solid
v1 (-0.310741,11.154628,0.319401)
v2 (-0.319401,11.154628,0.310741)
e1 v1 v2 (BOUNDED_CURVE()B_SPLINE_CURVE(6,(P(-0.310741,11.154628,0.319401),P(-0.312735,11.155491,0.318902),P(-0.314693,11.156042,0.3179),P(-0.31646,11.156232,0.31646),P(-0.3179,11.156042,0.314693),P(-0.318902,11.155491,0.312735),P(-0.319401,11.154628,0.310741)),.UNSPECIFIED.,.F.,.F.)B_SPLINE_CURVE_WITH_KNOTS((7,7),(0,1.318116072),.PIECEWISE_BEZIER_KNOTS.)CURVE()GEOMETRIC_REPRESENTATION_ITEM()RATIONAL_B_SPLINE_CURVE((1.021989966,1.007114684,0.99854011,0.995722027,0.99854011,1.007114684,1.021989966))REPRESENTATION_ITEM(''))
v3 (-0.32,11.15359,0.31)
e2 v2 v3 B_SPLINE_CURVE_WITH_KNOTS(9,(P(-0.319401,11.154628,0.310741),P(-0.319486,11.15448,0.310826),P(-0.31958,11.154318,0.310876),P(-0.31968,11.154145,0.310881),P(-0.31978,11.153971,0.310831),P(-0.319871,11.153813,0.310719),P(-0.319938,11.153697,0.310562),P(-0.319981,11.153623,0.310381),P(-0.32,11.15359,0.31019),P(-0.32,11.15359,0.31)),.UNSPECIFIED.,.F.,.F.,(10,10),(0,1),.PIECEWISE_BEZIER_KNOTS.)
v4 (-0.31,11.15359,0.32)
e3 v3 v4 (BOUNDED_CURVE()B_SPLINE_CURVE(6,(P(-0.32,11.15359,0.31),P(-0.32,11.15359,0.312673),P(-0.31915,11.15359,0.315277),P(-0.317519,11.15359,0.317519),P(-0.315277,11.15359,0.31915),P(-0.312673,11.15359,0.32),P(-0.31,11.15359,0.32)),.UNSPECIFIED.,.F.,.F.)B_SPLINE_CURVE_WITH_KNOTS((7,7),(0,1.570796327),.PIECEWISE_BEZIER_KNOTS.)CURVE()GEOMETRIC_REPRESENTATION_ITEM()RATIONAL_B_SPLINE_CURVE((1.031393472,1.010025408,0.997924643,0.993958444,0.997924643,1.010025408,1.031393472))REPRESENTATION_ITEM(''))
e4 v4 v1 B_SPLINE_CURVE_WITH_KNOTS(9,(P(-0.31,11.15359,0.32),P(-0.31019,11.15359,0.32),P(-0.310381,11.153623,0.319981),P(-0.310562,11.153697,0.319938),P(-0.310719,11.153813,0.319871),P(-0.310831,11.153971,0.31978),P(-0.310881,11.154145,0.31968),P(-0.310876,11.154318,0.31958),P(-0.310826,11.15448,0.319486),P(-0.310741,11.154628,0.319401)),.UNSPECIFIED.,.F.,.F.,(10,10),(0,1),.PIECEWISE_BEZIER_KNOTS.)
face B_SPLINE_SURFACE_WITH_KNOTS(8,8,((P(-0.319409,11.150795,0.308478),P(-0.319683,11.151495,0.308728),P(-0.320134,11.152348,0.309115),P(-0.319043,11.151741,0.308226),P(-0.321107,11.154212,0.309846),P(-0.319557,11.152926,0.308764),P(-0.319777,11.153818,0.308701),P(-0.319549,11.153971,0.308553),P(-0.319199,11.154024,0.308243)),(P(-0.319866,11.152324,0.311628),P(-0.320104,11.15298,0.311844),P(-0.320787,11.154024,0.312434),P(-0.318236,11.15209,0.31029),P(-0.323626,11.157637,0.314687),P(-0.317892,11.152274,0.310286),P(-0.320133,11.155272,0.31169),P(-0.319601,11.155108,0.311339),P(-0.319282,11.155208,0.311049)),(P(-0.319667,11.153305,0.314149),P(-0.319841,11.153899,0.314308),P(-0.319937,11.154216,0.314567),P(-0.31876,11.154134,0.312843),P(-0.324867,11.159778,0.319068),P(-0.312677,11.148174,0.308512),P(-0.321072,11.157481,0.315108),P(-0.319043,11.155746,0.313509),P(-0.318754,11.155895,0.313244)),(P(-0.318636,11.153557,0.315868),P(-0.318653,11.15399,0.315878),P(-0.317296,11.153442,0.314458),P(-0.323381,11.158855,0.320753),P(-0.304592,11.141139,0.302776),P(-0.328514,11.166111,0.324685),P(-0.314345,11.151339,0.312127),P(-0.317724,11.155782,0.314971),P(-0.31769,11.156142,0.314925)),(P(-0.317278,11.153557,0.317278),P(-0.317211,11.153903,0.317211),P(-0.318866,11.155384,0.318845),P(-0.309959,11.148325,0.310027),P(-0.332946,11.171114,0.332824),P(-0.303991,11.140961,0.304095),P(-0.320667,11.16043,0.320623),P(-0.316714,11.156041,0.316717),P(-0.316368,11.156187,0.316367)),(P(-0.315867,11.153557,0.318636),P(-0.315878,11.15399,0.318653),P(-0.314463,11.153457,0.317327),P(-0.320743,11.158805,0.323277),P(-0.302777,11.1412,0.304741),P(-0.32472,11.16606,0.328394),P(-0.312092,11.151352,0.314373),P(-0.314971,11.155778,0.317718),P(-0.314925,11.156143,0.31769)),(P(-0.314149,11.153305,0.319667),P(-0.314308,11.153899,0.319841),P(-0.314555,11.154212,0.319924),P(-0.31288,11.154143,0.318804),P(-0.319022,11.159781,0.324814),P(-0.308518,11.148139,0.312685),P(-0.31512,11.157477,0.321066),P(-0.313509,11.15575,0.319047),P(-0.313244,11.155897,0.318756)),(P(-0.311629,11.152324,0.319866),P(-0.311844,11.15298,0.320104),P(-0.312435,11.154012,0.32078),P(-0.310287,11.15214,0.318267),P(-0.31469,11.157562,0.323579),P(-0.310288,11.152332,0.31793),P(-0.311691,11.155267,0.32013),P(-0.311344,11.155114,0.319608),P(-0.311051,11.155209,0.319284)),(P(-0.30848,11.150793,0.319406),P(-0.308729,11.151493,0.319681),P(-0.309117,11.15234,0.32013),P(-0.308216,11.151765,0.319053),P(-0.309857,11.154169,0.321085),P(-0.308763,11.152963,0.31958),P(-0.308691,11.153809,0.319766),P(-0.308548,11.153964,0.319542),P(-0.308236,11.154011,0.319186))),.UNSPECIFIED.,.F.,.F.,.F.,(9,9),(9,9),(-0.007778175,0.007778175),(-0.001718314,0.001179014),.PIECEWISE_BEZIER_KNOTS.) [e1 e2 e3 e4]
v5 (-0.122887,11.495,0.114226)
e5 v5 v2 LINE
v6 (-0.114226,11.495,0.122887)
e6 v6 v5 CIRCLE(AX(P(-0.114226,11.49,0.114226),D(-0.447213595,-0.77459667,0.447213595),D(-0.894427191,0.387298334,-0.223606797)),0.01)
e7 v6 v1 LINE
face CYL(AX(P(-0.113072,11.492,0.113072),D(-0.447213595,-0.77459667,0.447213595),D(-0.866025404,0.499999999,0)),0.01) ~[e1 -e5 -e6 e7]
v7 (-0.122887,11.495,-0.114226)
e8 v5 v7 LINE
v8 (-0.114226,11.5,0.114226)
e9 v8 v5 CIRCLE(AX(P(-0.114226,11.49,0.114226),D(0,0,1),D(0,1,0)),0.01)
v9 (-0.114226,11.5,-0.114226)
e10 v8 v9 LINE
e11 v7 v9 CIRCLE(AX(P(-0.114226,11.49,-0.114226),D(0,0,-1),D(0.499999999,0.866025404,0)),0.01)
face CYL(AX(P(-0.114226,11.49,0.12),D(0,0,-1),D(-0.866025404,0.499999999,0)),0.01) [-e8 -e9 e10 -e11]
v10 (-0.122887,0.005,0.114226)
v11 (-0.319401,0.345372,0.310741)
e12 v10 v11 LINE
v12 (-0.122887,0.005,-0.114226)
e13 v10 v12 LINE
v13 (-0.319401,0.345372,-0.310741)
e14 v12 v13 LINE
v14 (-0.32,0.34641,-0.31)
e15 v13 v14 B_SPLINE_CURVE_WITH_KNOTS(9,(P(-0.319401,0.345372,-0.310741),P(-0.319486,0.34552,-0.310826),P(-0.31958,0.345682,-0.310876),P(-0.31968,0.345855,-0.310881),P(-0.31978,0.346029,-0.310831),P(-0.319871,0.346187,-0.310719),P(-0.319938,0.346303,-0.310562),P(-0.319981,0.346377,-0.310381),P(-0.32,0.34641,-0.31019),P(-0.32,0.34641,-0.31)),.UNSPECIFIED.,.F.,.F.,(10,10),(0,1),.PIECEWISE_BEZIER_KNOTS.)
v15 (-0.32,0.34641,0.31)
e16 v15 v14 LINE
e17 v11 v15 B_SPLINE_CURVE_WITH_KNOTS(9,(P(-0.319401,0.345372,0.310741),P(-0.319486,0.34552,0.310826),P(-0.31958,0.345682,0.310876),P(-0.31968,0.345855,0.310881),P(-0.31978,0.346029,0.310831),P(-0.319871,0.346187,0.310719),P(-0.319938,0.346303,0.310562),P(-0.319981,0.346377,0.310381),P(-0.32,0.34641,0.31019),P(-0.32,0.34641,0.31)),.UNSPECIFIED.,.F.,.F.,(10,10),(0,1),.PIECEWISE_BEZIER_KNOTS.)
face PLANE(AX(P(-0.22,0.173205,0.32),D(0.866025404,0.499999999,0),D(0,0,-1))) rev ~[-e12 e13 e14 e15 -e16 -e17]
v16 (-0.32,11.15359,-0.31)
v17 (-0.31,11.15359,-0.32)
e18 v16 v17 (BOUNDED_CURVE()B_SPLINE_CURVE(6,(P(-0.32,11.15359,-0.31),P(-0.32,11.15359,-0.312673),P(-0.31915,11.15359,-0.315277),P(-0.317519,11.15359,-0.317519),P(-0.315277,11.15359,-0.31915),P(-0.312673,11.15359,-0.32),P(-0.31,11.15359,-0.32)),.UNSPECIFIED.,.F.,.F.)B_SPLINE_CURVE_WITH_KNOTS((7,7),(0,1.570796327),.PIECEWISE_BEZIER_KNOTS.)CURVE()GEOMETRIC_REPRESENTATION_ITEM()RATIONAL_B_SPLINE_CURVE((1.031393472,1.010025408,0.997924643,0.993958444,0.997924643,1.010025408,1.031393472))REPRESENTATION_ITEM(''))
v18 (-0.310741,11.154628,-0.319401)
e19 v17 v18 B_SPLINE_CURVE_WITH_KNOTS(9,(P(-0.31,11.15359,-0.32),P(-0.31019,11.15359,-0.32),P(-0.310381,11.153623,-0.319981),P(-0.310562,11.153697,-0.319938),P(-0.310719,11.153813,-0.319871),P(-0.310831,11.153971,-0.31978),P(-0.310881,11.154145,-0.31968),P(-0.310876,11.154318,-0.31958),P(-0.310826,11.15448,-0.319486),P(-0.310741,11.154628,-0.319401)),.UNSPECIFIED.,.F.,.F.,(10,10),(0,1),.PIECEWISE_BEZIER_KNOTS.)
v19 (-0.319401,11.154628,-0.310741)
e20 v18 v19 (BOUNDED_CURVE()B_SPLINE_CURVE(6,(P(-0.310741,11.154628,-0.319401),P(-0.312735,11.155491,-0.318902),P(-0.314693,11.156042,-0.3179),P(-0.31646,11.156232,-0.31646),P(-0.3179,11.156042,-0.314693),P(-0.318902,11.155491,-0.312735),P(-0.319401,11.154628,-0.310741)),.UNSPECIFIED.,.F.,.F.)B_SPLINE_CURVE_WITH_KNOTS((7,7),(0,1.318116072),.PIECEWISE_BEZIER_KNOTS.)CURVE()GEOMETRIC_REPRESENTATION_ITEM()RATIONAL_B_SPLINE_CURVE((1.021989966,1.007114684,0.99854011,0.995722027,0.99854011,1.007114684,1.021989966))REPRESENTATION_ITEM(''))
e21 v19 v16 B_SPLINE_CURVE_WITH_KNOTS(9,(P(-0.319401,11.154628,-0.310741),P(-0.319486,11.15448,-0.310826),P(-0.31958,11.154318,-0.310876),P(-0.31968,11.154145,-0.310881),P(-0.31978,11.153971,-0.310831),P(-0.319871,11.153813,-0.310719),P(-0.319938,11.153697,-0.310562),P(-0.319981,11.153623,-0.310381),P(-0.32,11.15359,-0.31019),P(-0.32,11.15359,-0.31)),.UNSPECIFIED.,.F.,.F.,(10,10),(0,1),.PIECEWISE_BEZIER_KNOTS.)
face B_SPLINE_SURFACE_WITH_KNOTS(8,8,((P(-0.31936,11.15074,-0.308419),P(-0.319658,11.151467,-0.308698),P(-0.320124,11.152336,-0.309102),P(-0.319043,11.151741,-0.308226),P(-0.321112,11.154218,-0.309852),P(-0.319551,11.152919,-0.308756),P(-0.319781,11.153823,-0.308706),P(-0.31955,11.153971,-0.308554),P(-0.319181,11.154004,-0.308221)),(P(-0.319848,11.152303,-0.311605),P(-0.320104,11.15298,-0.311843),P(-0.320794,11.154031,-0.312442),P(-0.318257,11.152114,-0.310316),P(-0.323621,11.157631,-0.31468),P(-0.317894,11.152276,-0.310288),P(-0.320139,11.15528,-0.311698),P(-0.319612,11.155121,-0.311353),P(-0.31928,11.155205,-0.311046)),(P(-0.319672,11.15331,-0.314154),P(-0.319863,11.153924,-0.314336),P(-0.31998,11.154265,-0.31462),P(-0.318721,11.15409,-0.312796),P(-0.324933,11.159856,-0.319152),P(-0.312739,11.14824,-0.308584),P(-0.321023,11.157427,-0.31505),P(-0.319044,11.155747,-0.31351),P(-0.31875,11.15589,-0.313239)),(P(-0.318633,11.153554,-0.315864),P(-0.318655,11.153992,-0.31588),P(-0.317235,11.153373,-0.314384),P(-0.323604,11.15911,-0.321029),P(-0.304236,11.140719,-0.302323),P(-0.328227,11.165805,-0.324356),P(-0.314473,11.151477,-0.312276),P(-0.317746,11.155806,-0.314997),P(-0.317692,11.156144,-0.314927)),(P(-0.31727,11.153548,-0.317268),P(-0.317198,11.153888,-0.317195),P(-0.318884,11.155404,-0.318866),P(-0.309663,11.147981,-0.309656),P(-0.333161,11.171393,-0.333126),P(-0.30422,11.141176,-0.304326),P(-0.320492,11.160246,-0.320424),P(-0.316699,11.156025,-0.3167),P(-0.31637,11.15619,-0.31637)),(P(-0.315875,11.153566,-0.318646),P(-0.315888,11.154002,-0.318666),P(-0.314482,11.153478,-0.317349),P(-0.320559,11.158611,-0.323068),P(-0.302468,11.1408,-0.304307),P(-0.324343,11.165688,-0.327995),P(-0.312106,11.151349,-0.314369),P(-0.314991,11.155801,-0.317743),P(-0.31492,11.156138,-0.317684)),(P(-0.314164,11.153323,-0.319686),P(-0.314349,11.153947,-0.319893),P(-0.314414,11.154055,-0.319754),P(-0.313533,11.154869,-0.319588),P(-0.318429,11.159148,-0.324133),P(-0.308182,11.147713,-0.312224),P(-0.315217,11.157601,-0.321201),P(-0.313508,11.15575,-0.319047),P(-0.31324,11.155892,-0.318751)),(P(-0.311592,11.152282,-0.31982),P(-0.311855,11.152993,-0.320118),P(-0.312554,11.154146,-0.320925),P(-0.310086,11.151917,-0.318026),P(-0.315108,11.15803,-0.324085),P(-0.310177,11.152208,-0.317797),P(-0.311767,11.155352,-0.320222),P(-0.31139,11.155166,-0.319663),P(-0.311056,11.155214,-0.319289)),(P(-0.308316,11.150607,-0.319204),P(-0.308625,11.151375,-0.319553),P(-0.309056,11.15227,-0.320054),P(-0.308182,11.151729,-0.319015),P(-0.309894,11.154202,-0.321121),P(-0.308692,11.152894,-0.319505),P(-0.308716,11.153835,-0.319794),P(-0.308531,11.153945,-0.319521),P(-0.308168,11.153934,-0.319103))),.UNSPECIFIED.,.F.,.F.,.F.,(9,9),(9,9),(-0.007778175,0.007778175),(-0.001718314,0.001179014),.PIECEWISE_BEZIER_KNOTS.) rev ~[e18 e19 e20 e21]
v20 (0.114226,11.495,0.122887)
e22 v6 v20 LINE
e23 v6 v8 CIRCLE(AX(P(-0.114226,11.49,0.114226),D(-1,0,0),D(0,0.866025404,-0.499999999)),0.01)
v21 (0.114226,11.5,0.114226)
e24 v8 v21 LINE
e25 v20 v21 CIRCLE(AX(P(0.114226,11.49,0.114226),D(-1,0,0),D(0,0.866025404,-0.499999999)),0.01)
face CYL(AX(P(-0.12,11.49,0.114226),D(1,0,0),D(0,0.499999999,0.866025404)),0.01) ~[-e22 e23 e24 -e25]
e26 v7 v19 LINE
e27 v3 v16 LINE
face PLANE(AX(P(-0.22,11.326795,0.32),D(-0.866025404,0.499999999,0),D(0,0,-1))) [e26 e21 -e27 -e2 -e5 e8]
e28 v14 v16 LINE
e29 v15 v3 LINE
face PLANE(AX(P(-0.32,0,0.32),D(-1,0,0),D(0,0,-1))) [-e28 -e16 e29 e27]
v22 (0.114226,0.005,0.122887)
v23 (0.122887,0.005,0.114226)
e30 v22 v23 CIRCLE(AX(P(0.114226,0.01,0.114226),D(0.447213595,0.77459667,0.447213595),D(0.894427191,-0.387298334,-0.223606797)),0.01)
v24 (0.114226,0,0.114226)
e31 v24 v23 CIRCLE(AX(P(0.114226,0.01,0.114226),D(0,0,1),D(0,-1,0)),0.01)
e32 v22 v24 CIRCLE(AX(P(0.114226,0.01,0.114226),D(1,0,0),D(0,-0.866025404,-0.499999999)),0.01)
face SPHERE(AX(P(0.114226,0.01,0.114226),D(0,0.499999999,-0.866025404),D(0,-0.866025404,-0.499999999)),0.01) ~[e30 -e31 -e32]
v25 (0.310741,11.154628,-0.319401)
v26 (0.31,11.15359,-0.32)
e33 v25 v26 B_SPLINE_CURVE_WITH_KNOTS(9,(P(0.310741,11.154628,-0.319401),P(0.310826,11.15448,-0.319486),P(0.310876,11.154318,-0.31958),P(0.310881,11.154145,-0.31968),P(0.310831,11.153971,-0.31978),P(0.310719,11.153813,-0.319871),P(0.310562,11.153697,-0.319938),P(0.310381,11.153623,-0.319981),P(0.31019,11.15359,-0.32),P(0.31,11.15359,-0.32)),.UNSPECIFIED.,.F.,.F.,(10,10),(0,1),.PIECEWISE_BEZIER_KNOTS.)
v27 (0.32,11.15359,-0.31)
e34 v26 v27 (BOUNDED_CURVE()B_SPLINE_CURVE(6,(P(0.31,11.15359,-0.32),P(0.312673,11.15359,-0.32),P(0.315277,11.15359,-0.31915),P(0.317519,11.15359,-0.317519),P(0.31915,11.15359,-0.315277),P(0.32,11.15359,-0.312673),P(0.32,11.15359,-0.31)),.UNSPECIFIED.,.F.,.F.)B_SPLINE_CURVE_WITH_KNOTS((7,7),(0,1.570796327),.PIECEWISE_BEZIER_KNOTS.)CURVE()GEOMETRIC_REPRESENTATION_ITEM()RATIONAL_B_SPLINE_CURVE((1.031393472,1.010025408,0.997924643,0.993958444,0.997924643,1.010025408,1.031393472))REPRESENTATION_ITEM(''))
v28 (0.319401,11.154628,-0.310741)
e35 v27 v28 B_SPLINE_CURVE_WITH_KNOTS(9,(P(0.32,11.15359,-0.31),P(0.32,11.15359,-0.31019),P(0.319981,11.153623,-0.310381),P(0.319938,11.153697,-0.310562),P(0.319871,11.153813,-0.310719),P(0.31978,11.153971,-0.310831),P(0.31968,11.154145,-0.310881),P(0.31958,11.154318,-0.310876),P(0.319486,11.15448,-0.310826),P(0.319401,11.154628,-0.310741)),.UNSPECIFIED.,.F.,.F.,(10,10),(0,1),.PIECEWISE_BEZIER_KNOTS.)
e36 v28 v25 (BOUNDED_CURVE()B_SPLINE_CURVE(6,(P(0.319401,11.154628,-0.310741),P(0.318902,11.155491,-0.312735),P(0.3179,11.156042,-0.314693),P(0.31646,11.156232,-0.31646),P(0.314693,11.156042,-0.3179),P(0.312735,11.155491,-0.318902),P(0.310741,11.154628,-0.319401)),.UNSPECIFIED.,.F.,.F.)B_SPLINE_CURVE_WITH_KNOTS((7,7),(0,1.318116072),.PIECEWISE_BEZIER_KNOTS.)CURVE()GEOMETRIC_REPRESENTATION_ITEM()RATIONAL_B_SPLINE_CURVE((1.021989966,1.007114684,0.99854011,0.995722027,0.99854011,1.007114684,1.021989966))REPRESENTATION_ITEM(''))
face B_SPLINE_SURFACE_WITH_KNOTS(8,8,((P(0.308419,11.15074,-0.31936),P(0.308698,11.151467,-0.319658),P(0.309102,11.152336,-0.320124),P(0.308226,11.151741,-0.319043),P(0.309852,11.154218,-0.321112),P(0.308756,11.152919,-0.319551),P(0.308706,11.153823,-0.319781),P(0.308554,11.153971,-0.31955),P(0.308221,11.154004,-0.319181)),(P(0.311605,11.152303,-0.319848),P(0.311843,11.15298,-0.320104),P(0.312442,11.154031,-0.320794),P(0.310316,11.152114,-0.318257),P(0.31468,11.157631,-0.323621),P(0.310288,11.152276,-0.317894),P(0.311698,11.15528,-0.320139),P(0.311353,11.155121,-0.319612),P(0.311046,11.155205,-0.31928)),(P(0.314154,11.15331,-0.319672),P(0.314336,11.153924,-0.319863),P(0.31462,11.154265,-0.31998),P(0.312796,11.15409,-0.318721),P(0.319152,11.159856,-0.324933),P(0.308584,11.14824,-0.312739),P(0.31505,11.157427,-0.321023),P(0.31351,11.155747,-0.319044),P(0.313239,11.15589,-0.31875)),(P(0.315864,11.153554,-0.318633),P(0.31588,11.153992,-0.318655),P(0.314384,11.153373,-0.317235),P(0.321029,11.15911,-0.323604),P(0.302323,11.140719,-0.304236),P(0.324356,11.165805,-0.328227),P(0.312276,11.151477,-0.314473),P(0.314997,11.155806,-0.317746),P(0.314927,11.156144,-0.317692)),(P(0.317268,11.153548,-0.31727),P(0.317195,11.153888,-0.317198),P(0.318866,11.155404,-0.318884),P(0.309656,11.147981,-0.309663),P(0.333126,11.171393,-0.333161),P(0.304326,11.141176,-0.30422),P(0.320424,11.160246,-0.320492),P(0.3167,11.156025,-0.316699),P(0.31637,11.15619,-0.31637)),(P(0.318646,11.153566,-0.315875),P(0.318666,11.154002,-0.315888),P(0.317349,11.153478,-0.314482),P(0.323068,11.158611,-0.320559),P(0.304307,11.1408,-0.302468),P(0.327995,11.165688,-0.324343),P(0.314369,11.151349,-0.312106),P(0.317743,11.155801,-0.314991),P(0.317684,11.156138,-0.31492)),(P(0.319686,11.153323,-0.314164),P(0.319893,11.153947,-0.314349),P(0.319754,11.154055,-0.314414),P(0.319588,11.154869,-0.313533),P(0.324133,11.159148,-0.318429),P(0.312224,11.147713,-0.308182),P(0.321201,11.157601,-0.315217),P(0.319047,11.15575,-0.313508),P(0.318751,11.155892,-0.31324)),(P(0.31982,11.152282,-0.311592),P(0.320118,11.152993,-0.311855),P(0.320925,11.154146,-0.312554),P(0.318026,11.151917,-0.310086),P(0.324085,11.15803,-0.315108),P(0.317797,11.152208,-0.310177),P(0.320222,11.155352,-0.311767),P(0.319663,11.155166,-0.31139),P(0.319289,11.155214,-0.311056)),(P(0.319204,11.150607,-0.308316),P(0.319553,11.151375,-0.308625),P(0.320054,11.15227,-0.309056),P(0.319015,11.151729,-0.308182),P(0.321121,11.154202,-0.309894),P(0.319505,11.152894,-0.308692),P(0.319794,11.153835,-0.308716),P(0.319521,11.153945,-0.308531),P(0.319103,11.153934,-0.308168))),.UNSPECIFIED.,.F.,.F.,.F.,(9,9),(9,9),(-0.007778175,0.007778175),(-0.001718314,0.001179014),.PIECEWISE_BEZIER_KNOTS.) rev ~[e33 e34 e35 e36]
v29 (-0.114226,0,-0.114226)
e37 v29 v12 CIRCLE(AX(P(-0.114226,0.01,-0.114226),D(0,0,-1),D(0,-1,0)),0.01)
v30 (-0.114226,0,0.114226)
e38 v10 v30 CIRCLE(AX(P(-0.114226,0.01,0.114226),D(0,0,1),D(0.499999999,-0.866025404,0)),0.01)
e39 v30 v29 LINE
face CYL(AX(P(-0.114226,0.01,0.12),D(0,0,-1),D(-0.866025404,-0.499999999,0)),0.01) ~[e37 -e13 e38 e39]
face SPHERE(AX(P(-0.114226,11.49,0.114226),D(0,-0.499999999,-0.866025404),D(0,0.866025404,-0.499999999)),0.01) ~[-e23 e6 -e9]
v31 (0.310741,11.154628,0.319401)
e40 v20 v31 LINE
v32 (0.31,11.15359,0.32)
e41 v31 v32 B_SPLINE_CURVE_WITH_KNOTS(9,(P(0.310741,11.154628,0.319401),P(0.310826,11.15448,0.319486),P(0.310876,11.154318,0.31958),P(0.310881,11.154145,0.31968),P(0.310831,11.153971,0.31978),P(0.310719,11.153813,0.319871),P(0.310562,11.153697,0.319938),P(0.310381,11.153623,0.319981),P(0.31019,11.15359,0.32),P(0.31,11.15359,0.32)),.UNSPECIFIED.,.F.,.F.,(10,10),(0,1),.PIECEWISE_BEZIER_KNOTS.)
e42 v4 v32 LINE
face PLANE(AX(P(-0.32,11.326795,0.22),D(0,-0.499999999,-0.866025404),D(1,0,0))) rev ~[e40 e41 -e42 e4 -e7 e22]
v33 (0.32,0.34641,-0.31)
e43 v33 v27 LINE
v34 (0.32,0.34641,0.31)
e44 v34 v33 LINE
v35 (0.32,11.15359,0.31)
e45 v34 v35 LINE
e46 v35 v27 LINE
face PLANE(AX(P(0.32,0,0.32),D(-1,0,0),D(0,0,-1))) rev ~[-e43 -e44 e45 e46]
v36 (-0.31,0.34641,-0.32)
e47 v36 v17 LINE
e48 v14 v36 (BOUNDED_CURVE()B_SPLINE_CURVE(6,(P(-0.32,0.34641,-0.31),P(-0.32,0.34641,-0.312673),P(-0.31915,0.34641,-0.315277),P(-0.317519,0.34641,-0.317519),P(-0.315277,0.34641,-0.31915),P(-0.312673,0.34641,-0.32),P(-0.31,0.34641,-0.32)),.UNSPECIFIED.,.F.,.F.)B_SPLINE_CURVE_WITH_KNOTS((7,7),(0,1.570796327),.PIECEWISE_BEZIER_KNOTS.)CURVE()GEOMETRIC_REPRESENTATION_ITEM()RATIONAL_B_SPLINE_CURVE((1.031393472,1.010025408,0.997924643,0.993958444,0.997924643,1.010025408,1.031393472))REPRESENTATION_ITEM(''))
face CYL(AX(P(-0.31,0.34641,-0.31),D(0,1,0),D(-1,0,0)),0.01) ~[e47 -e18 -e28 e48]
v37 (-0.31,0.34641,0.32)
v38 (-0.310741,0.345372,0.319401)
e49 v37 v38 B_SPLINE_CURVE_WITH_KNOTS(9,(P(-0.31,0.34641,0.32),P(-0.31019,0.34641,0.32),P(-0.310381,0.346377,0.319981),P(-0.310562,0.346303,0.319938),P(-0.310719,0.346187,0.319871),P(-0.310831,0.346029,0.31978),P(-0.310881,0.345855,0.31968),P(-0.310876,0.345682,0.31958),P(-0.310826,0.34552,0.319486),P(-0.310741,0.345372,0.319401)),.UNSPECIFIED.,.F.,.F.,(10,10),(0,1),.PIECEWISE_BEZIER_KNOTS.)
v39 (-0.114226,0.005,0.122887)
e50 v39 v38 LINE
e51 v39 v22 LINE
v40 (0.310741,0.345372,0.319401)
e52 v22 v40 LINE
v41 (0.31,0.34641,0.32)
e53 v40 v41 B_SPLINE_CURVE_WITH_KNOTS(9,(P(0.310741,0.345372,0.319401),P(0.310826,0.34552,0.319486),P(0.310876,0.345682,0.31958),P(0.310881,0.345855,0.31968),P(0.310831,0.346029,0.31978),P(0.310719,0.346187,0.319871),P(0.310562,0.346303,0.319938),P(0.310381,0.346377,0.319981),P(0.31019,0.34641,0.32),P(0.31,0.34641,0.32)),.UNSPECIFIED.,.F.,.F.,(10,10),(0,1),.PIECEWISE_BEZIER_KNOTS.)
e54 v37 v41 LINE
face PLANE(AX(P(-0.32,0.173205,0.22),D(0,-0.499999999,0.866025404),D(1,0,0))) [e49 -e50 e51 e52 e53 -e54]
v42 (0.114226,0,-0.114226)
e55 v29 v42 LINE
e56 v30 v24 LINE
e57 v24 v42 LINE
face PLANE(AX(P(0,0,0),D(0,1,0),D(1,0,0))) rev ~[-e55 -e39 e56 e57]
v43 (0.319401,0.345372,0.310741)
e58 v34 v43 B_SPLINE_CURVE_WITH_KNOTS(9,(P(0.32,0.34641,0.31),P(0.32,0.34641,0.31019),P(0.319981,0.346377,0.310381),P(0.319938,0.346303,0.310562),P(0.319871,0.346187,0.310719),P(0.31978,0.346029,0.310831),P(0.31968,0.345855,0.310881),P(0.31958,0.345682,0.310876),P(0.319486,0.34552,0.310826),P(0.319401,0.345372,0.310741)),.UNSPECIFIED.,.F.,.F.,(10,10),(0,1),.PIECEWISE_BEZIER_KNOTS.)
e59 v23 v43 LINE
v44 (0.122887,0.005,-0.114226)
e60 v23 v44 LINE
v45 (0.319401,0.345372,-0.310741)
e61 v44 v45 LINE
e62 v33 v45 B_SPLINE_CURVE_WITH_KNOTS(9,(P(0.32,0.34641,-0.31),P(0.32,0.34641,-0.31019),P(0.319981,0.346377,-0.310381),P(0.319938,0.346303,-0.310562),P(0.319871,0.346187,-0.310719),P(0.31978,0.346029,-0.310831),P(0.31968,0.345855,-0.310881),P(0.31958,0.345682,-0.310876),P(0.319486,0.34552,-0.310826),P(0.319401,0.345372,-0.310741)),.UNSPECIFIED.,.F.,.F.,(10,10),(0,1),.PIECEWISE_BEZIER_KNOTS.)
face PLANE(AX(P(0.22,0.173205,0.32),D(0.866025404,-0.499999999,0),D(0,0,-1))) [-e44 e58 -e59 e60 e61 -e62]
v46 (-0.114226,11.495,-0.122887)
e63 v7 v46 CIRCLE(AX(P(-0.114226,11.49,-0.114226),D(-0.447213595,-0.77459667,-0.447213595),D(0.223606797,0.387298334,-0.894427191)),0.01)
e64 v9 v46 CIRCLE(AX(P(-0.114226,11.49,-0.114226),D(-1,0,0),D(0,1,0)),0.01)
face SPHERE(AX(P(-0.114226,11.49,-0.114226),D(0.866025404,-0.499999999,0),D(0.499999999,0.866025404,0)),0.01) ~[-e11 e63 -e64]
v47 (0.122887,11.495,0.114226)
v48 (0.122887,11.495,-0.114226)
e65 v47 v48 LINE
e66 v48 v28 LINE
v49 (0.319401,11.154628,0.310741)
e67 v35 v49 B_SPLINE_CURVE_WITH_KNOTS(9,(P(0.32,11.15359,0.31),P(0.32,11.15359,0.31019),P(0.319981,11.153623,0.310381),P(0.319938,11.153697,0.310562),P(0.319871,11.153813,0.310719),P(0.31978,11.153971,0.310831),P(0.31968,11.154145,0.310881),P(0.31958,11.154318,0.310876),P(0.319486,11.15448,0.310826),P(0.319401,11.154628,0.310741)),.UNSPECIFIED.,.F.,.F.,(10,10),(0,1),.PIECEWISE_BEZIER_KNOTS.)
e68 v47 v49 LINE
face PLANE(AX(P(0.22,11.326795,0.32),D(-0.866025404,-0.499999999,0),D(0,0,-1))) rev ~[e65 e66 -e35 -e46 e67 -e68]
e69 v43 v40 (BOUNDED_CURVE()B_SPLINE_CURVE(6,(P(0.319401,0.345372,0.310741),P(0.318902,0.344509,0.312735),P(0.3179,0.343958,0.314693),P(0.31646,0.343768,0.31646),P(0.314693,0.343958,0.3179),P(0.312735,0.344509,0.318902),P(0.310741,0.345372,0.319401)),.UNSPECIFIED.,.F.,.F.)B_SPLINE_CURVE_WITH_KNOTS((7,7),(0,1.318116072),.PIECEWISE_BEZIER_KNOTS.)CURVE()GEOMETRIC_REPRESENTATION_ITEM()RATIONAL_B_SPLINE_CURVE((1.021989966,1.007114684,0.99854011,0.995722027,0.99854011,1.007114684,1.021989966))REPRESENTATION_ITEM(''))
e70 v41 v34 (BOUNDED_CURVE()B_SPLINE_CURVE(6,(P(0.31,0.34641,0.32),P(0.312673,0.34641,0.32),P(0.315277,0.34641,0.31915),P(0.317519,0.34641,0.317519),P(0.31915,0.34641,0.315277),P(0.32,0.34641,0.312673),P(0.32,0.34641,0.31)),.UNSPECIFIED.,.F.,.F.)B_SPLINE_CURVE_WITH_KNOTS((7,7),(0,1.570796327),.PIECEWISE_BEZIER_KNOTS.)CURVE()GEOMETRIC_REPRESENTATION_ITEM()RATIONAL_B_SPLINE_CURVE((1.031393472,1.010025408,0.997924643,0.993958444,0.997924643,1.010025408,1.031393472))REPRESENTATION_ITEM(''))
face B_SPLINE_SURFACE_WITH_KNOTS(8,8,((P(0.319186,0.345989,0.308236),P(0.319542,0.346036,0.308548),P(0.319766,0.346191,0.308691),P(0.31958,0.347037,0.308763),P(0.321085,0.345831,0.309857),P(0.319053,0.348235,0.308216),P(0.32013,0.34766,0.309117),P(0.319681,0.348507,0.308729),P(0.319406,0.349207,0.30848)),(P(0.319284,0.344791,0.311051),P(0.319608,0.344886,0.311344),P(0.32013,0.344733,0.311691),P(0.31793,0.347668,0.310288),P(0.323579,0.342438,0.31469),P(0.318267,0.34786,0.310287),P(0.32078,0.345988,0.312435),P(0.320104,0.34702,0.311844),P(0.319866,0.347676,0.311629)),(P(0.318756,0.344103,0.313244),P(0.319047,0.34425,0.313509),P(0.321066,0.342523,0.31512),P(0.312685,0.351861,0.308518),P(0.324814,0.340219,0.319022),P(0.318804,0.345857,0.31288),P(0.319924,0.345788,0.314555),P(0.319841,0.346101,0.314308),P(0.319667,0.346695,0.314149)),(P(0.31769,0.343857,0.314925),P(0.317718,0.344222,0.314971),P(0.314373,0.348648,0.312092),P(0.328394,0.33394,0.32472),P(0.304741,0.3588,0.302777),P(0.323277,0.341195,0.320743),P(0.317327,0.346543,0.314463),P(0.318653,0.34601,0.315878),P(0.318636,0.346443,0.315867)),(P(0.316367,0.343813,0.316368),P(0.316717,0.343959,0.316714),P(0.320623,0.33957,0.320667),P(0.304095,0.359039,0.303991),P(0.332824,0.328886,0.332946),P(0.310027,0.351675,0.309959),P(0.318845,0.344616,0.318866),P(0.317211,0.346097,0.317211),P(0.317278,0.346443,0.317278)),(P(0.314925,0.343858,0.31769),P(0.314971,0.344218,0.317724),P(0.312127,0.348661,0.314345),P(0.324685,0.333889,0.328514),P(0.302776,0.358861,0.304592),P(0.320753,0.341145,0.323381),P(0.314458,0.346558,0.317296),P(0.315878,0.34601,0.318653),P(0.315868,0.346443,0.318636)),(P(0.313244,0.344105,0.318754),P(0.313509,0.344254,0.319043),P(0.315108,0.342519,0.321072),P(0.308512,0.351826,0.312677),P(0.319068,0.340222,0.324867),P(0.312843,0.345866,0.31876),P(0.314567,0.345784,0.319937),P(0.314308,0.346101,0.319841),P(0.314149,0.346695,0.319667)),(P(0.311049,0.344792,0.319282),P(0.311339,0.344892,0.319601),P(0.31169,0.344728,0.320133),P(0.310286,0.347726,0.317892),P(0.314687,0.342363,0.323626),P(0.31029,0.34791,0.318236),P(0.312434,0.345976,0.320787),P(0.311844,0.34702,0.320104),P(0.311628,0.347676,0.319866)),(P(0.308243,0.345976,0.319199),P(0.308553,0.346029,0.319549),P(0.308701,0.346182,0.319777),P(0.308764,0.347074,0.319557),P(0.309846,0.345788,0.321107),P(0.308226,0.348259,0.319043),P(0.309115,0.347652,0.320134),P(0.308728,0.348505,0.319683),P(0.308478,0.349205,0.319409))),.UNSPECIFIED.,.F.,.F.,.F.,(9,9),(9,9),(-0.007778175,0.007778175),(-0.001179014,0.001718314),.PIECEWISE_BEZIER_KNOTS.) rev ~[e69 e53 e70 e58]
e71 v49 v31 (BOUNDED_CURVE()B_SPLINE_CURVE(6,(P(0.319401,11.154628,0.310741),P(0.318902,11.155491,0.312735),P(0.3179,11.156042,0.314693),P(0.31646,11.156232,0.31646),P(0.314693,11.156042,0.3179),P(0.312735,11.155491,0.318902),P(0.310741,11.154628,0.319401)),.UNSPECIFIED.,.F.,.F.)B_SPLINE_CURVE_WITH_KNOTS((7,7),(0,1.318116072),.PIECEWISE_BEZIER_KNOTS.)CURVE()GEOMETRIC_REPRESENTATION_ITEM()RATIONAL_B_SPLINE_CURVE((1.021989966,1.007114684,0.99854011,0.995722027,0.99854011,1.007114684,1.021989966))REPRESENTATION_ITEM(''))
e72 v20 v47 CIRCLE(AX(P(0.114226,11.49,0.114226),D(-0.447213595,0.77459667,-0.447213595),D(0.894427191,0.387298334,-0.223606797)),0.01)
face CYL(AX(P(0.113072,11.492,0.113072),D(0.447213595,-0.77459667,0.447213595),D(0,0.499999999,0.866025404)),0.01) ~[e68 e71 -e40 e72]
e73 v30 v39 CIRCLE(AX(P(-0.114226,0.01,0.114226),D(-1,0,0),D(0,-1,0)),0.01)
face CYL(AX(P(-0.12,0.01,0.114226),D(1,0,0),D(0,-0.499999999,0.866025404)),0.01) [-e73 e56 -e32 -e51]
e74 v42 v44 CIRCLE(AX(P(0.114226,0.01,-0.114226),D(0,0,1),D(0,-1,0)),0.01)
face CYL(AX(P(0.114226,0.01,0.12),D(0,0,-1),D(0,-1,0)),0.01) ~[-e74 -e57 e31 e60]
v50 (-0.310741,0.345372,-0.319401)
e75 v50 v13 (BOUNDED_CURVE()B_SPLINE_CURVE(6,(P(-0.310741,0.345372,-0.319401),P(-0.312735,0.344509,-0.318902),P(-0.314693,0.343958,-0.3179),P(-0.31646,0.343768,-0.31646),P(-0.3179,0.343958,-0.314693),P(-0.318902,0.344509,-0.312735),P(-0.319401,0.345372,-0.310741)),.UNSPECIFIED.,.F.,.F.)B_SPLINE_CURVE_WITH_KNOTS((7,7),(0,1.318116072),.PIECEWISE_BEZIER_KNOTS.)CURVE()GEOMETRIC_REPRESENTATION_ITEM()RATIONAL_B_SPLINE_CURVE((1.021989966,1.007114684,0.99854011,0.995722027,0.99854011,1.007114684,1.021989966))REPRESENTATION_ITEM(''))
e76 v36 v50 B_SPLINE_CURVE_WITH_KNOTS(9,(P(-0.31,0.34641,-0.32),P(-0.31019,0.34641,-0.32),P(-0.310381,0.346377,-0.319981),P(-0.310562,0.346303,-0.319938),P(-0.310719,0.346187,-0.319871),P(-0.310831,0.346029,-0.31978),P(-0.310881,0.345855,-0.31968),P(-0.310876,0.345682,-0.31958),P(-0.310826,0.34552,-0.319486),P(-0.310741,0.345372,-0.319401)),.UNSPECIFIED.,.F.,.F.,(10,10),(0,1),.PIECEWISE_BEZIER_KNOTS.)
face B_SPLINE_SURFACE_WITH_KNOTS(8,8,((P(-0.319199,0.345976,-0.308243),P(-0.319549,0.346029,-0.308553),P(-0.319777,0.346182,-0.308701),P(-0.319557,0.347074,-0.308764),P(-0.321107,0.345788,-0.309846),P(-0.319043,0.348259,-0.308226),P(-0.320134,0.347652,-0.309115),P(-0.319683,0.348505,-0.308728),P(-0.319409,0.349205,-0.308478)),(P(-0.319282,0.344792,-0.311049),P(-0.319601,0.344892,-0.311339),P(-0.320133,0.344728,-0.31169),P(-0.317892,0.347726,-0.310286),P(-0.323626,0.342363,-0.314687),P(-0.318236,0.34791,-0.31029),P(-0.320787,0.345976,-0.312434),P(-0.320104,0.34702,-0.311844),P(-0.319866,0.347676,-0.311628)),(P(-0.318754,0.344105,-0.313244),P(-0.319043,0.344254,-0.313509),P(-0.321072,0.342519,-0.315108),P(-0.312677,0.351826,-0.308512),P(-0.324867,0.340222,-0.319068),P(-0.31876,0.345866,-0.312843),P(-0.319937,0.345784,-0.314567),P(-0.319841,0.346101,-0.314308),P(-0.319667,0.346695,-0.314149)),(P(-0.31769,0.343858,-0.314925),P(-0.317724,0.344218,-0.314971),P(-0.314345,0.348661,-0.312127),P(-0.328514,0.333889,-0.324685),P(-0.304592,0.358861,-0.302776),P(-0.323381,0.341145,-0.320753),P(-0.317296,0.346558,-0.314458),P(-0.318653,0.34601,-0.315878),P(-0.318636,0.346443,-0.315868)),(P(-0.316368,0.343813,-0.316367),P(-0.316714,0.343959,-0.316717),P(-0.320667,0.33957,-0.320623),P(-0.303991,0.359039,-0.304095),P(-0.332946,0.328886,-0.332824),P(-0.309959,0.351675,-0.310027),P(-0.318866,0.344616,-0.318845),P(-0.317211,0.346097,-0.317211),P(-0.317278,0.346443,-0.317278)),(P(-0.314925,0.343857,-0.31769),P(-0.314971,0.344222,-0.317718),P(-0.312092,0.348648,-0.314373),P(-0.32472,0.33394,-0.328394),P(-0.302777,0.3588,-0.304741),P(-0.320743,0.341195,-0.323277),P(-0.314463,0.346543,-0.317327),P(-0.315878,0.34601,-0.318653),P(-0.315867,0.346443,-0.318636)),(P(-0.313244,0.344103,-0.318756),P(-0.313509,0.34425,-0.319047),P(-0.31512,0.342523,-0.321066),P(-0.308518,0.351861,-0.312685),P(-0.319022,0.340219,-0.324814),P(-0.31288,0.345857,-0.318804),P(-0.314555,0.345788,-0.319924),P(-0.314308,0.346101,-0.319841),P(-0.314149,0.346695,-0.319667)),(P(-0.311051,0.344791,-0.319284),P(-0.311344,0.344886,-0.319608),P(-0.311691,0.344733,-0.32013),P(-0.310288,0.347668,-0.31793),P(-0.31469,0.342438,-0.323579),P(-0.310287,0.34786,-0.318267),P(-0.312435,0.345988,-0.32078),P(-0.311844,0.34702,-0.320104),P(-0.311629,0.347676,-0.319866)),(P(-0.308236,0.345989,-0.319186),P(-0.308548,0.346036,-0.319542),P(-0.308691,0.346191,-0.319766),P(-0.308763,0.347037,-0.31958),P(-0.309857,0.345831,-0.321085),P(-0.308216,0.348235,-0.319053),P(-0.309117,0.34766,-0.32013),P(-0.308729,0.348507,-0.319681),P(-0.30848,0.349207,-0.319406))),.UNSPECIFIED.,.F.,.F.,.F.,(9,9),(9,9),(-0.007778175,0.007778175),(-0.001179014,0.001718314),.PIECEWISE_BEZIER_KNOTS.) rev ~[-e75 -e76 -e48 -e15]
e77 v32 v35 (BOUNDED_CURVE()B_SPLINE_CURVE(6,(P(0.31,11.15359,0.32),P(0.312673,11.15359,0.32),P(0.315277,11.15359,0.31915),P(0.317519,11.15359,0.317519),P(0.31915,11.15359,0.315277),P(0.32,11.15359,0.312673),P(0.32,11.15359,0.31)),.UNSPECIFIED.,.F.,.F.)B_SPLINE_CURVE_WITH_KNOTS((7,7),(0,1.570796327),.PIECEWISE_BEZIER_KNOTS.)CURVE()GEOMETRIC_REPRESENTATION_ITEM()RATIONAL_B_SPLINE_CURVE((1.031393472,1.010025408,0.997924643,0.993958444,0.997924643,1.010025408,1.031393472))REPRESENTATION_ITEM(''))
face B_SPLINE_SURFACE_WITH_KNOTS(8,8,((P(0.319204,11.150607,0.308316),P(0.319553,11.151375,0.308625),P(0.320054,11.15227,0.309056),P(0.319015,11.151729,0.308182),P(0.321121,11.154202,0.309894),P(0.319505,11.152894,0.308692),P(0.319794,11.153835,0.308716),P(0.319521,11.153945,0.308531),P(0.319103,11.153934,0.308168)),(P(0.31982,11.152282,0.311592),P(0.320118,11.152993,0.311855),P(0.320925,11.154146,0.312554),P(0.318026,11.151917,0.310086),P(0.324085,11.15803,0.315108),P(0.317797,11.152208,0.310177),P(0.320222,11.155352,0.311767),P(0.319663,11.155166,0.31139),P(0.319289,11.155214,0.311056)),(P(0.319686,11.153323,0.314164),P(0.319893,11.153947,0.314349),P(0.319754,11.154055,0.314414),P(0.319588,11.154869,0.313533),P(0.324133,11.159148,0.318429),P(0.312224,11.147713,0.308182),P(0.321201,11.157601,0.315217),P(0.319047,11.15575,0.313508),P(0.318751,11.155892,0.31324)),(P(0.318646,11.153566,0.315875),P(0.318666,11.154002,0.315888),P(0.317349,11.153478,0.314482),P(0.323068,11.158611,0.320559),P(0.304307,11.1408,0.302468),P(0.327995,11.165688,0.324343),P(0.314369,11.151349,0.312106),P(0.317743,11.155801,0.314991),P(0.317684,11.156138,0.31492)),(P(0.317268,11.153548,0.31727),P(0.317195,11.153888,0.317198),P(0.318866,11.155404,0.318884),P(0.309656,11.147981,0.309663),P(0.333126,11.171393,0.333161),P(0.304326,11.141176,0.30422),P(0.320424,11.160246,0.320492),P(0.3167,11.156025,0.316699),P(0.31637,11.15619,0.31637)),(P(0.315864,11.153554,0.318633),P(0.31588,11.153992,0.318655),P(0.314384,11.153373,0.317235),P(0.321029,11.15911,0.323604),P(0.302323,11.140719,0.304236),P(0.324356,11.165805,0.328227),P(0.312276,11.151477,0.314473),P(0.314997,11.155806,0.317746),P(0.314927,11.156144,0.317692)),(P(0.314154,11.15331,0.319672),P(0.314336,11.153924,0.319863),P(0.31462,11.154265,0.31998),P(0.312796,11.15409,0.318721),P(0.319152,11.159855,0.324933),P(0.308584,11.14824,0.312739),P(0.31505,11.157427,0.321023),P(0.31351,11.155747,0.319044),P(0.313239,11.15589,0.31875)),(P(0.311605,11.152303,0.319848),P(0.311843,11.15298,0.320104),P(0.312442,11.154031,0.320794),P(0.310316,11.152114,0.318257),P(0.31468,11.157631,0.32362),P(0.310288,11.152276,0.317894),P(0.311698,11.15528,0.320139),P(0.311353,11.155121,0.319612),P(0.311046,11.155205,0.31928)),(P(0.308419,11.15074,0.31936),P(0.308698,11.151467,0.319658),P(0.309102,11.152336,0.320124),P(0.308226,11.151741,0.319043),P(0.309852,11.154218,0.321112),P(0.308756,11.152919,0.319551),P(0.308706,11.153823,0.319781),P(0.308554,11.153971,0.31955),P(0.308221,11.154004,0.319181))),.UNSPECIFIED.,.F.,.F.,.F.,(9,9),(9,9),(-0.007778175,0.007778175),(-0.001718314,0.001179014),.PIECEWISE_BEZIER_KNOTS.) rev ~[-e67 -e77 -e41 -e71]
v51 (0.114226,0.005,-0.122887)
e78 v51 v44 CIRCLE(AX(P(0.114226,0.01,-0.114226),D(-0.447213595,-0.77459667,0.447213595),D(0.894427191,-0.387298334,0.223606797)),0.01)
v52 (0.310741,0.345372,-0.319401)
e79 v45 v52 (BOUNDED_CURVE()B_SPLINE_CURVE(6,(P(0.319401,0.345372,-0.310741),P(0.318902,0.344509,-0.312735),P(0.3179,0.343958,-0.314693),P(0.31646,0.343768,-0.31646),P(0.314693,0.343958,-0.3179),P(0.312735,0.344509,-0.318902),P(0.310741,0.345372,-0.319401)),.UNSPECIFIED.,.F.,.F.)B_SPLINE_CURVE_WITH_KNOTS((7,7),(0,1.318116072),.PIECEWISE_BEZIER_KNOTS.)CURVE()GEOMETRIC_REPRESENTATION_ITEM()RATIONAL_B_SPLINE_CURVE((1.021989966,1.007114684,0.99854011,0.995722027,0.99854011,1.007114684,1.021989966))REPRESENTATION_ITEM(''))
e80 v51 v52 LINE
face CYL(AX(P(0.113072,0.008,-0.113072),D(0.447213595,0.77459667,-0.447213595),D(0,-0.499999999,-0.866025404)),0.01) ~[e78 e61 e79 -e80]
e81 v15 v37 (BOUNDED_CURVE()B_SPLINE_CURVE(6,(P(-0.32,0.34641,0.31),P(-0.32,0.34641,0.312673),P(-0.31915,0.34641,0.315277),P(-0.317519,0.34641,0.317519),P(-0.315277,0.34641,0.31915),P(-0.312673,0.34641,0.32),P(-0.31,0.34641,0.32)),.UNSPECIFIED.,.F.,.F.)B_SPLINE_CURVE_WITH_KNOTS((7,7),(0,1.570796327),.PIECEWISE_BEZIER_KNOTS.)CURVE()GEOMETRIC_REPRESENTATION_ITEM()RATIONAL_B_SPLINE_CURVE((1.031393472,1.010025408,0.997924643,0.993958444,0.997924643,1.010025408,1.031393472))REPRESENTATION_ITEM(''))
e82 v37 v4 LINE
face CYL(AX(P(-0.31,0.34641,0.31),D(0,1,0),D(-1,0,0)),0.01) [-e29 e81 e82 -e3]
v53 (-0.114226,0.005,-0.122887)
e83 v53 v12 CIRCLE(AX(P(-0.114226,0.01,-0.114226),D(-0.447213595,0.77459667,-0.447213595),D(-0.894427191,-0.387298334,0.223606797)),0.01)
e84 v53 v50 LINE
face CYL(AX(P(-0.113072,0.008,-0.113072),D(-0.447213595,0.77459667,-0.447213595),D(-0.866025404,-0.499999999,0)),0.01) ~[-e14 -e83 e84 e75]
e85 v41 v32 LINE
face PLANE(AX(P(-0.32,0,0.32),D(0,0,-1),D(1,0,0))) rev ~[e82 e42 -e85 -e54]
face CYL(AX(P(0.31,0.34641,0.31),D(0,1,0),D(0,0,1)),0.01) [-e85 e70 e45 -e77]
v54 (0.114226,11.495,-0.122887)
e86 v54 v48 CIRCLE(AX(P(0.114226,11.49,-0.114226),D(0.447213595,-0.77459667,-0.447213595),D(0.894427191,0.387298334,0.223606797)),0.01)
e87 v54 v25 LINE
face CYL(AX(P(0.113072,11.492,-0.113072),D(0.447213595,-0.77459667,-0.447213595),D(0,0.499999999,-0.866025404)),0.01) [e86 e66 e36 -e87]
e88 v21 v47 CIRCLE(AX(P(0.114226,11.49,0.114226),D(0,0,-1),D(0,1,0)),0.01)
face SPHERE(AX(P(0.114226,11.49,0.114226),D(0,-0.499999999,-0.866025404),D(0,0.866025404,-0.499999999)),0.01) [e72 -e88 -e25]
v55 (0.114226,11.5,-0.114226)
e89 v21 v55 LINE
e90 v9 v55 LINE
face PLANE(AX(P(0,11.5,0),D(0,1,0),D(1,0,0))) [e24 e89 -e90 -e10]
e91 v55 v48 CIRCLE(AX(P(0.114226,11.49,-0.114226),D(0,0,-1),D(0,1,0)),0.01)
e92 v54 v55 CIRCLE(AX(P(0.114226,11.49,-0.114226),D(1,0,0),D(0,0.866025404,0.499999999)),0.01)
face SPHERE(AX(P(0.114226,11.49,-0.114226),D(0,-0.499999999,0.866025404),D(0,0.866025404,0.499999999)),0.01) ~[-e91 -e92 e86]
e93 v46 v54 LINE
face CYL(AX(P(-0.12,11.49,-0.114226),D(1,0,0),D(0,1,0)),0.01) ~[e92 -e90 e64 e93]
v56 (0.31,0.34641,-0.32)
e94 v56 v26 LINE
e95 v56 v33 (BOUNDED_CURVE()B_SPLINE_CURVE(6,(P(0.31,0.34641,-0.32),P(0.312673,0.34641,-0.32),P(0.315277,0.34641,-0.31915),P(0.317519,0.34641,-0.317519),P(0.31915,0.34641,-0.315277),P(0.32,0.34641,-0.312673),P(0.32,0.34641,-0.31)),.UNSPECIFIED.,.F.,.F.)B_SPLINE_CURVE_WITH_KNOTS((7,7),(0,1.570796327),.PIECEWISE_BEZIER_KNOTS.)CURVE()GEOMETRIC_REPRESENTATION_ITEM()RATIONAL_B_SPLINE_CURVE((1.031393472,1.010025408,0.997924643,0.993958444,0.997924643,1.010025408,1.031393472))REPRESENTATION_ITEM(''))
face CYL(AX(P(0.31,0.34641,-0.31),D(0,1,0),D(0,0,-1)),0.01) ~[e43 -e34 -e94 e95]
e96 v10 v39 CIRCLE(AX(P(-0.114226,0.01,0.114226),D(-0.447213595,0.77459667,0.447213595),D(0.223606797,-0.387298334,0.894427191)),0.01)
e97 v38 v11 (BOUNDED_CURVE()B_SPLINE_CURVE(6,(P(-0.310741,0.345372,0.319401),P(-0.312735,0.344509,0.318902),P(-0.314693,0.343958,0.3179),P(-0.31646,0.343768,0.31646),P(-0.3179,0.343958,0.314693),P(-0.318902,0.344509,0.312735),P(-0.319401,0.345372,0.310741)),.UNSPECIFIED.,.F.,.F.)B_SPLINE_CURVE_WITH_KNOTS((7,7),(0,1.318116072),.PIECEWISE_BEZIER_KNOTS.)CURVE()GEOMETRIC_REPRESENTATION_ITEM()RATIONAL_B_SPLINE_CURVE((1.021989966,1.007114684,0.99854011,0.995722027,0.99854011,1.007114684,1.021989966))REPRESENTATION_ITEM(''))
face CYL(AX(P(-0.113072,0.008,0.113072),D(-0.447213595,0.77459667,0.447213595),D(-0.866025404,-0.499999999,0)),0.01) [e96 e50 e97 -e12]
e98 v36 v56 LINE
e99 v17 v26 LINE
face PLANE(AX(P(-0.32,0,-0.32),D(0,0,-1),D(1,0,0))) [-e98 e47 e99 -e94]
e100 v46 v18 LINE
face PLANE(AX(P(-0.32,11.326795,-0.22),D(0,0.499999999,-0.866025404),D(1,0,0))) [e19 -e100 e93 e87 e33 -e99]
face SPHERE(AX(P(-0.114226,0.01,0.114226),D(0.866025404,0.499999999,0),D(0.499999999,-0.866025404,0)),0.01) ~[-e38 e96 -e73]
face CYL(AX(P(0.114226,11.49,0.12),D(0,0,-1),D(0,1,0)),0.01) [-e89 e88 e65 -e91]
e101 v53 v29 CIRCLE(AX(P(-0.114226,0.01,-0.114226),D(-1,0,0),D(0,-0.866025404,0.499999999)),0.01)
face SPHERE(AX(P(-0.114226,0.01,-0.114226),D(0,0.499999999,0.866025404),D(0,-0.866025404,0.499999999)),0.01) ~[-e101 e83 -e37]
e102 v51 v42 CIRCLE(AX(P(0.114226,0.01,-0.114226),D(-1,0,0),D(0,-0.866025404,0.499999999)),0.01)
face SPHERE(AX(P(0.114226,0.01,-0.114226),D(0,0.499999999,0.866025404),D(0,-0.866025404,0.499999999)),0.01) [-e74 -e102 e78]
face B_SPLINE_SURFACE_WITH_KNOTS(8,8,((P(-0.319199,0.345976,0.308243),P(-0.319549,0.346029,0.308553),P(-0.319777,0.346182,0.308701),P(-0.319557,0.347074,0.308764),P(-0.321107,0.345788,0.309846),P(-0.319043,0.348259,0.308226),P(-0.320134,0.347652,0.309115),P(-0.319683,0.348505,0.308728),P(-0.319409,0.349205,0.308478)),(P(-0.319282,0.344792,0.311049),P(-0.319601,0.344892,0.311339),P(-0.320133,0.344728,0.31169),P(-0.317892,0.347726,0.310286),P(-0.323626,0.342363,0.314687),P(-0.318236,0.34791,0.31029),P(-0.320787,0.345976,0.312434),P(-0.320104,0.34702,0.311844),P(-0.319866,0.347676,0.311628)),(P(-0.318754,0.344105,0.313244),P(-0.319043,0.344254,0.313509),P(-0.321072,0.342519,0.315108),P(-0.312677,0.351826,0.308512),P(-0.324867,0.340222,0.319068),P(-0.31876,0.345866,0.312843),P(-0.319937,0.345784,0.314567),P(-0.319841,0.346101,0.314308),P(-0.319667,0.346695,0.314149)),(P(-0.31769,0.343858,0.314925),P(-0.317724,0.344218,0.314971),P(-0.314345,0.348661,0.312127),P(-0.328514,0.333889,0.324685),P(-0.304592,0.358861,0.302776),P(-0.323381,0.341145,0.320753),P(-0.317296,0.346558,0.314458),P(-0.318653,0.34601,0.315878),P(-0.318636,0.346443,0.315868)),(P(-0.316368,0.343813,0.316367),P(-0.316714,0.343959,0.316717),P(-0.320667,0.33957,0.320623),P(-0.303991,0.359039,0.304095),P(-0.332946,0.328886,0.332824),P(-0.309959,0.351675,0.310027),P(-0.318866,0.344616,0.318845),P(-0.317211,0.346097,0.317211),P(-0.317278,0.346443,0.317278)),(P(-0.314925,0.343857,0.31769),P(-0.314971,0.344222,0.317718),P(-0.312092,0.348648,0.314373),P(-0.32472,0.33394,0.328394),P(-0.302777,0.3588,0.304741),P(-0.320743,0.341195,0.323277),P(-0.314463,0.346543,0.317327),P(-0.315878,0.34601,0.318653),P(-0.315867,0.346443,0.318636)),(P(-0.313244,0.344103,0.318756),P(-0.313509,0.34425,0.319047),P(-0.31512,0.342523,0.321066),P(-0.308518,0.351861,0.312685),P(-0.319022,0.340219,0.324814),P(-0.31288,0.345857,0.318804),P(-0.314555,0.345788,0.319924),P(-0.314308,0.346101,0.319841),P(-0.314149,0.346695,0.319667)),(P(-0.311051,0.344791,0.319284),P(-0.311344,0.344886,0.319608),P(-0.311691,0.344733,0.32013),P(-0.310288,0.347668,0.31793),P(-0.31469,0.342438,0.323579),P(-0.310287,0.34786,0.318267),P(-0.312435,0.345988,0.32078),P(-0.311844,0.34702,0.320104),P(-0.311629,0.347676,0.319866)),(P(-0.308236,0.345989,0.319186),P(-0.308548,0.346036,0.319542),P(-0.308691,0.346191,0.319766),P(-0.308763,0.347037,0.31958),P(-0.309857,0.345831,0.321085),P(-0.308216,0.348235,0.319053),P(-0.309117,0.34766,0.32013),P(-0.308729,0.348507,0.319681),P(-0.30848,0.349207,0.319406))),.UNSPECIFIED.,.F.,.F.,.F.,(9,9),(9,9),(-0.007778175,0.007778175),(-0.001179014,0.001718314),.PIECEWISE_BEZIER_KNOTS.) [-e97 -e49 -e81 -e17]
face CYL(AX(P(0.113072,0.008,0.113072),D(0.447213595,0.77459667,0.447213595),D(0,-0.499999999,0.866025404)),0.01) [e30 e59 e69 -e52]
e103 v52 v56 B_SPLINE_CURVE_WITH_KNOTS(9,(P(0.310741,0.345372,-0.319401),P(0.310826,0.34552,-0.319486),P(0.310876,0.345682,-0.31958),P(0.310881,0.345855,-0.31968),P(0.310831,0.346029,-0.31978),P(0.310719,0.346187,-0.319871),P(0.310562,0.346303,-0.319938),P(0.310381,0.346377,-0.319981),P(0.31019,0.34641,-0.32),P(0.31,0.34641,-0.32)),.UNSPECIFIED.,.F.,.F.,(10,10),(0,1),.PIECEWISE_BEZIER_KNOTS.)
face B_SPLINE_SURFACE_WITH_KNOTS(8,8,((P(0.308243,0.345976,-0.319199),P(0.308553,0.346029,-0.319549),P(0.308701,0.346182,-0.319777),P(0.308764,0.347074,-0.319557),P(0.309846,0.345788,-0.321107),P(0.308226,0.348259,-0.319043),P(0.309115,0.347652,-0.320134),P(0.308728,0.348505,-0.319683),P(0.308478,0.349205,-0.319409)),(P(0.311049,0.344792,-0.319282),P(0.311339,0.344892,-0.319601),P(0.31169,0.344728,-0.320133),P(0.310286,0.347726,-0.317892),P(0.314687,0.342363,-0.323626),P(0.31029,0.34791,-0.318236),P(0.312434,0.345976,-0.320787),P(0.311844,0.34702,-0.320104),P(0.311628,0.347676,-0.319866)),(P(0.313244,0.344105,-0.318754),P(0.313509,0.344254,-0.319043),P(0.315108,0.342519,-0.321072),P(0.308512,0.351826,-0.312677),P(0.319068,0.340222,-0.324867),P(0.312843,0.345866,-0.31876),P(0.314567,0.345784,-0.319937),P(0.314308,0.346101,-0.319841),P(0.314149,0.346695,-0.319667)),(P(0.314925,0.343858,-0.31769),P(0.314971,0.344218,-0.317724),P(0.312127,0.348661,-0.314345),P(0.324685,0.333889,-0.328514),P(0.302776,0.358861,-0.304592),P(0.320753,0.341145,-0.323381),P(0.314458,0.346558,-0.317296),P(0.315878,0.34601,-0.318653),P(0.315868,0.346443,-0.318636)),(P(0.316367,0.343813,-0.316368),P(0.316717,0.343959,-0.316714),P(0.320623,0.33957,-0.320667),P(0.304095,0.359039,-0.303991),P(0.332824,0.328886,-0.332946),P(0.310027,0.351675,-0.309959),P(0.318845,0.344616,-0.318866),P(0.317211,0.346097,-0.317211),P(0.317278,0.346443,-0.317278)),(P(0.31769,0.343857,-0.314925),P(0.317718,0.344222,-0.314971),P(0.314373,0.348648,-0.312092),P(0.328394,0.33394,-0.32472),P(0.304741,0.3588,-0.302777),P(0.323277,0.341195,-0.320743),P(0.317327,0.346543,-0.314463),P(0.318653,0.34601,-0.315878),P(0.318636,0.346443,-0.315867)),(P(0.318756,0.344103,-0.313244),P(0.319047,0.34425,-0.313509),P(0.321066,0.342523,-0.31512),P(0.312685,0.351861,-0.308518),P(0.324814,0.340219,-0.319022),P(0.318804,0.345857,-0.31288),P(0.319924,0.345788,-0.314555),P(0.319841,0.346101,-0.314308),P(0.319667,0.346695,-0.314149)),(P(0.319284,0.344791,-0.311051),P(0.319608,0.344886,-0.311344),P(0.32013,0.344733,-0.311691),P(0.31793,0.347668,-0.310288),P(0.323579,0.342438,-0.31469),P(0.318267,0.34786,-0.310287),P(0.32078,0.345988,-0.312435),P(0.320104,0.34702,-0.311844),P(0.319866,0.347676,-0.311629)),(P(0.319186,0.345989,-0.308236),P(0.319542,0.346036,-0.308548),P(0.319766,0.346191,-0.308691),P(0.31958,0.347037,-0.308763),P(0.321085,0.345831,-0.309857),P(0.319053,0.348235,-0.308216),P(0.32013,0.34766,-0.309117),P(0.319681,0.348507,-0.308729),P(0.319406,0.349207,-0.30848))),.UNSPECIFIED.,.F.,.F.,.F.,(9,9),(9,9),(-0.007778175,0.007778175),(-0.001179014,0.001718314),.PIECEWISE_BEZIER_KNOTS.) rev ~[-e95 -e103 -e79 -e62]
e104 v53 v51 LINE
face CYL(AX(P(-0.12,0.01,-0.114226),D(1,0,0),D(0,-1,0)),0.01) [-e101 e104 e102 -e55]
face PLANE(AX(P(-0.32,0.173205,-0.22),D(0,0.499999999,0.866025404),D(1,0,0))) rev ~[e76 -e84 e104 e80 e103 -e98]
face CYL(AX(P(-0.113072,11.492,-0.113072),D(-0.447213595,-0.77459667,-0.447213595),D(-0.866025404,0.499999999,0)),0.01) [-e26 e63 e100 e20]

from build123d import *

# Parameters (mm, degrees)
SKETCH1_W           = 0.64
SKETCH1_H           = 0.64
BOSS_EXTRUDE1_DEPTH = 11.5
CHAMFER1_SIZE       = 0.2
CHAMFER1_SIZE2      = 0.346410162
CHAMFER2_SIZE       = 0.2
CHAMFER2_SIZE2      = 0.346410162
FILLET2_R           = 0.01


with BuildPart() as part:
    # Sketch1 → Boss-Extrude1 (new body)
    with BuildSketch(Plane(origin=(0, 0, 0), x_dir=(1, 0, 0), z_dir=(0, 1, 0))):
        Rectangle(SKETCH1_W, SKETCH1_H)
    extrude(amount=BOSS_EXTRUDE1_DEPTH)

    # Chamfer1
    chamfer1_edges = [part.edges().sort_by_distance(p)[0] for p in [
        (-0.32, 11.5, 0),
        (0, 11.5, 0.32),
        (0.32, 11.5, 0),
        (0, 11.5, -0.32),
    ]]
    chamfer1_side = [part.faces().sort_by_distance(p)[0] for p in [
        (0, 11.5, 0),
    ]]
    chamfer(chamfer1_edges, length=CHAMFER1_SIZE, length2=CHAMFER1_SIZE2, reference=chamfer1_side[0])

    # Chamfer2
    chamfer2_edges = [part.edges().sort_by_distance(p)[0] for p in [
        (0, 0, 0.32),
        (-0.32, 0, 0),
        (0, 0, -0.32),
        (0.32, 0, 0),
    ]]
    chamfer2_side = [part.faces().sort_by_distance(p)[0] for p in [
        (0, 0, 0),
    ]]
    chamfer(chamfer2_edges, length=CHAMFER2_SIZE, length2=CHAMFER2_SIZE2, reference=chamfer2_side[0])

    # Fillet2
    fillet2_edges = [part.edges().sort_by_distance(p)[0] for p in [
        (0.12, 11.5, 0),
        (0, 11.5, -0.12),
        (-0.12, 11.5, 0),
        (0, 11.5, 0.12),
        (0.32, 5.75, 0.32),
        (-0.32, 5.75, 0.32),
        (-0.32, 5.75, -0.32),
        (0.32, 5.75, -0.32),
        (-0.22, 11.326794919, -0.22),
        (0.22, 11.326794919, -0.22),
        (-0.22, 11.326794919, 0.22),
        (0.22, 11.326794919, 0.22),
        (0.12, 0, 0),
        (0, 0, 0.12),
        (-0.12, 0, 0),
        (0, 0, -0.12),
        (0.22, 0.173205081, 0.22),
        (-0.22, 0.173205081, 0.22),
        (0.22, 0.173205081, -0.22),
        (-0.22, 0.173205081, -0.22),
    ]]
    fillet(fillet2_edges, radius=FILLET2_R)


solid = part.part
